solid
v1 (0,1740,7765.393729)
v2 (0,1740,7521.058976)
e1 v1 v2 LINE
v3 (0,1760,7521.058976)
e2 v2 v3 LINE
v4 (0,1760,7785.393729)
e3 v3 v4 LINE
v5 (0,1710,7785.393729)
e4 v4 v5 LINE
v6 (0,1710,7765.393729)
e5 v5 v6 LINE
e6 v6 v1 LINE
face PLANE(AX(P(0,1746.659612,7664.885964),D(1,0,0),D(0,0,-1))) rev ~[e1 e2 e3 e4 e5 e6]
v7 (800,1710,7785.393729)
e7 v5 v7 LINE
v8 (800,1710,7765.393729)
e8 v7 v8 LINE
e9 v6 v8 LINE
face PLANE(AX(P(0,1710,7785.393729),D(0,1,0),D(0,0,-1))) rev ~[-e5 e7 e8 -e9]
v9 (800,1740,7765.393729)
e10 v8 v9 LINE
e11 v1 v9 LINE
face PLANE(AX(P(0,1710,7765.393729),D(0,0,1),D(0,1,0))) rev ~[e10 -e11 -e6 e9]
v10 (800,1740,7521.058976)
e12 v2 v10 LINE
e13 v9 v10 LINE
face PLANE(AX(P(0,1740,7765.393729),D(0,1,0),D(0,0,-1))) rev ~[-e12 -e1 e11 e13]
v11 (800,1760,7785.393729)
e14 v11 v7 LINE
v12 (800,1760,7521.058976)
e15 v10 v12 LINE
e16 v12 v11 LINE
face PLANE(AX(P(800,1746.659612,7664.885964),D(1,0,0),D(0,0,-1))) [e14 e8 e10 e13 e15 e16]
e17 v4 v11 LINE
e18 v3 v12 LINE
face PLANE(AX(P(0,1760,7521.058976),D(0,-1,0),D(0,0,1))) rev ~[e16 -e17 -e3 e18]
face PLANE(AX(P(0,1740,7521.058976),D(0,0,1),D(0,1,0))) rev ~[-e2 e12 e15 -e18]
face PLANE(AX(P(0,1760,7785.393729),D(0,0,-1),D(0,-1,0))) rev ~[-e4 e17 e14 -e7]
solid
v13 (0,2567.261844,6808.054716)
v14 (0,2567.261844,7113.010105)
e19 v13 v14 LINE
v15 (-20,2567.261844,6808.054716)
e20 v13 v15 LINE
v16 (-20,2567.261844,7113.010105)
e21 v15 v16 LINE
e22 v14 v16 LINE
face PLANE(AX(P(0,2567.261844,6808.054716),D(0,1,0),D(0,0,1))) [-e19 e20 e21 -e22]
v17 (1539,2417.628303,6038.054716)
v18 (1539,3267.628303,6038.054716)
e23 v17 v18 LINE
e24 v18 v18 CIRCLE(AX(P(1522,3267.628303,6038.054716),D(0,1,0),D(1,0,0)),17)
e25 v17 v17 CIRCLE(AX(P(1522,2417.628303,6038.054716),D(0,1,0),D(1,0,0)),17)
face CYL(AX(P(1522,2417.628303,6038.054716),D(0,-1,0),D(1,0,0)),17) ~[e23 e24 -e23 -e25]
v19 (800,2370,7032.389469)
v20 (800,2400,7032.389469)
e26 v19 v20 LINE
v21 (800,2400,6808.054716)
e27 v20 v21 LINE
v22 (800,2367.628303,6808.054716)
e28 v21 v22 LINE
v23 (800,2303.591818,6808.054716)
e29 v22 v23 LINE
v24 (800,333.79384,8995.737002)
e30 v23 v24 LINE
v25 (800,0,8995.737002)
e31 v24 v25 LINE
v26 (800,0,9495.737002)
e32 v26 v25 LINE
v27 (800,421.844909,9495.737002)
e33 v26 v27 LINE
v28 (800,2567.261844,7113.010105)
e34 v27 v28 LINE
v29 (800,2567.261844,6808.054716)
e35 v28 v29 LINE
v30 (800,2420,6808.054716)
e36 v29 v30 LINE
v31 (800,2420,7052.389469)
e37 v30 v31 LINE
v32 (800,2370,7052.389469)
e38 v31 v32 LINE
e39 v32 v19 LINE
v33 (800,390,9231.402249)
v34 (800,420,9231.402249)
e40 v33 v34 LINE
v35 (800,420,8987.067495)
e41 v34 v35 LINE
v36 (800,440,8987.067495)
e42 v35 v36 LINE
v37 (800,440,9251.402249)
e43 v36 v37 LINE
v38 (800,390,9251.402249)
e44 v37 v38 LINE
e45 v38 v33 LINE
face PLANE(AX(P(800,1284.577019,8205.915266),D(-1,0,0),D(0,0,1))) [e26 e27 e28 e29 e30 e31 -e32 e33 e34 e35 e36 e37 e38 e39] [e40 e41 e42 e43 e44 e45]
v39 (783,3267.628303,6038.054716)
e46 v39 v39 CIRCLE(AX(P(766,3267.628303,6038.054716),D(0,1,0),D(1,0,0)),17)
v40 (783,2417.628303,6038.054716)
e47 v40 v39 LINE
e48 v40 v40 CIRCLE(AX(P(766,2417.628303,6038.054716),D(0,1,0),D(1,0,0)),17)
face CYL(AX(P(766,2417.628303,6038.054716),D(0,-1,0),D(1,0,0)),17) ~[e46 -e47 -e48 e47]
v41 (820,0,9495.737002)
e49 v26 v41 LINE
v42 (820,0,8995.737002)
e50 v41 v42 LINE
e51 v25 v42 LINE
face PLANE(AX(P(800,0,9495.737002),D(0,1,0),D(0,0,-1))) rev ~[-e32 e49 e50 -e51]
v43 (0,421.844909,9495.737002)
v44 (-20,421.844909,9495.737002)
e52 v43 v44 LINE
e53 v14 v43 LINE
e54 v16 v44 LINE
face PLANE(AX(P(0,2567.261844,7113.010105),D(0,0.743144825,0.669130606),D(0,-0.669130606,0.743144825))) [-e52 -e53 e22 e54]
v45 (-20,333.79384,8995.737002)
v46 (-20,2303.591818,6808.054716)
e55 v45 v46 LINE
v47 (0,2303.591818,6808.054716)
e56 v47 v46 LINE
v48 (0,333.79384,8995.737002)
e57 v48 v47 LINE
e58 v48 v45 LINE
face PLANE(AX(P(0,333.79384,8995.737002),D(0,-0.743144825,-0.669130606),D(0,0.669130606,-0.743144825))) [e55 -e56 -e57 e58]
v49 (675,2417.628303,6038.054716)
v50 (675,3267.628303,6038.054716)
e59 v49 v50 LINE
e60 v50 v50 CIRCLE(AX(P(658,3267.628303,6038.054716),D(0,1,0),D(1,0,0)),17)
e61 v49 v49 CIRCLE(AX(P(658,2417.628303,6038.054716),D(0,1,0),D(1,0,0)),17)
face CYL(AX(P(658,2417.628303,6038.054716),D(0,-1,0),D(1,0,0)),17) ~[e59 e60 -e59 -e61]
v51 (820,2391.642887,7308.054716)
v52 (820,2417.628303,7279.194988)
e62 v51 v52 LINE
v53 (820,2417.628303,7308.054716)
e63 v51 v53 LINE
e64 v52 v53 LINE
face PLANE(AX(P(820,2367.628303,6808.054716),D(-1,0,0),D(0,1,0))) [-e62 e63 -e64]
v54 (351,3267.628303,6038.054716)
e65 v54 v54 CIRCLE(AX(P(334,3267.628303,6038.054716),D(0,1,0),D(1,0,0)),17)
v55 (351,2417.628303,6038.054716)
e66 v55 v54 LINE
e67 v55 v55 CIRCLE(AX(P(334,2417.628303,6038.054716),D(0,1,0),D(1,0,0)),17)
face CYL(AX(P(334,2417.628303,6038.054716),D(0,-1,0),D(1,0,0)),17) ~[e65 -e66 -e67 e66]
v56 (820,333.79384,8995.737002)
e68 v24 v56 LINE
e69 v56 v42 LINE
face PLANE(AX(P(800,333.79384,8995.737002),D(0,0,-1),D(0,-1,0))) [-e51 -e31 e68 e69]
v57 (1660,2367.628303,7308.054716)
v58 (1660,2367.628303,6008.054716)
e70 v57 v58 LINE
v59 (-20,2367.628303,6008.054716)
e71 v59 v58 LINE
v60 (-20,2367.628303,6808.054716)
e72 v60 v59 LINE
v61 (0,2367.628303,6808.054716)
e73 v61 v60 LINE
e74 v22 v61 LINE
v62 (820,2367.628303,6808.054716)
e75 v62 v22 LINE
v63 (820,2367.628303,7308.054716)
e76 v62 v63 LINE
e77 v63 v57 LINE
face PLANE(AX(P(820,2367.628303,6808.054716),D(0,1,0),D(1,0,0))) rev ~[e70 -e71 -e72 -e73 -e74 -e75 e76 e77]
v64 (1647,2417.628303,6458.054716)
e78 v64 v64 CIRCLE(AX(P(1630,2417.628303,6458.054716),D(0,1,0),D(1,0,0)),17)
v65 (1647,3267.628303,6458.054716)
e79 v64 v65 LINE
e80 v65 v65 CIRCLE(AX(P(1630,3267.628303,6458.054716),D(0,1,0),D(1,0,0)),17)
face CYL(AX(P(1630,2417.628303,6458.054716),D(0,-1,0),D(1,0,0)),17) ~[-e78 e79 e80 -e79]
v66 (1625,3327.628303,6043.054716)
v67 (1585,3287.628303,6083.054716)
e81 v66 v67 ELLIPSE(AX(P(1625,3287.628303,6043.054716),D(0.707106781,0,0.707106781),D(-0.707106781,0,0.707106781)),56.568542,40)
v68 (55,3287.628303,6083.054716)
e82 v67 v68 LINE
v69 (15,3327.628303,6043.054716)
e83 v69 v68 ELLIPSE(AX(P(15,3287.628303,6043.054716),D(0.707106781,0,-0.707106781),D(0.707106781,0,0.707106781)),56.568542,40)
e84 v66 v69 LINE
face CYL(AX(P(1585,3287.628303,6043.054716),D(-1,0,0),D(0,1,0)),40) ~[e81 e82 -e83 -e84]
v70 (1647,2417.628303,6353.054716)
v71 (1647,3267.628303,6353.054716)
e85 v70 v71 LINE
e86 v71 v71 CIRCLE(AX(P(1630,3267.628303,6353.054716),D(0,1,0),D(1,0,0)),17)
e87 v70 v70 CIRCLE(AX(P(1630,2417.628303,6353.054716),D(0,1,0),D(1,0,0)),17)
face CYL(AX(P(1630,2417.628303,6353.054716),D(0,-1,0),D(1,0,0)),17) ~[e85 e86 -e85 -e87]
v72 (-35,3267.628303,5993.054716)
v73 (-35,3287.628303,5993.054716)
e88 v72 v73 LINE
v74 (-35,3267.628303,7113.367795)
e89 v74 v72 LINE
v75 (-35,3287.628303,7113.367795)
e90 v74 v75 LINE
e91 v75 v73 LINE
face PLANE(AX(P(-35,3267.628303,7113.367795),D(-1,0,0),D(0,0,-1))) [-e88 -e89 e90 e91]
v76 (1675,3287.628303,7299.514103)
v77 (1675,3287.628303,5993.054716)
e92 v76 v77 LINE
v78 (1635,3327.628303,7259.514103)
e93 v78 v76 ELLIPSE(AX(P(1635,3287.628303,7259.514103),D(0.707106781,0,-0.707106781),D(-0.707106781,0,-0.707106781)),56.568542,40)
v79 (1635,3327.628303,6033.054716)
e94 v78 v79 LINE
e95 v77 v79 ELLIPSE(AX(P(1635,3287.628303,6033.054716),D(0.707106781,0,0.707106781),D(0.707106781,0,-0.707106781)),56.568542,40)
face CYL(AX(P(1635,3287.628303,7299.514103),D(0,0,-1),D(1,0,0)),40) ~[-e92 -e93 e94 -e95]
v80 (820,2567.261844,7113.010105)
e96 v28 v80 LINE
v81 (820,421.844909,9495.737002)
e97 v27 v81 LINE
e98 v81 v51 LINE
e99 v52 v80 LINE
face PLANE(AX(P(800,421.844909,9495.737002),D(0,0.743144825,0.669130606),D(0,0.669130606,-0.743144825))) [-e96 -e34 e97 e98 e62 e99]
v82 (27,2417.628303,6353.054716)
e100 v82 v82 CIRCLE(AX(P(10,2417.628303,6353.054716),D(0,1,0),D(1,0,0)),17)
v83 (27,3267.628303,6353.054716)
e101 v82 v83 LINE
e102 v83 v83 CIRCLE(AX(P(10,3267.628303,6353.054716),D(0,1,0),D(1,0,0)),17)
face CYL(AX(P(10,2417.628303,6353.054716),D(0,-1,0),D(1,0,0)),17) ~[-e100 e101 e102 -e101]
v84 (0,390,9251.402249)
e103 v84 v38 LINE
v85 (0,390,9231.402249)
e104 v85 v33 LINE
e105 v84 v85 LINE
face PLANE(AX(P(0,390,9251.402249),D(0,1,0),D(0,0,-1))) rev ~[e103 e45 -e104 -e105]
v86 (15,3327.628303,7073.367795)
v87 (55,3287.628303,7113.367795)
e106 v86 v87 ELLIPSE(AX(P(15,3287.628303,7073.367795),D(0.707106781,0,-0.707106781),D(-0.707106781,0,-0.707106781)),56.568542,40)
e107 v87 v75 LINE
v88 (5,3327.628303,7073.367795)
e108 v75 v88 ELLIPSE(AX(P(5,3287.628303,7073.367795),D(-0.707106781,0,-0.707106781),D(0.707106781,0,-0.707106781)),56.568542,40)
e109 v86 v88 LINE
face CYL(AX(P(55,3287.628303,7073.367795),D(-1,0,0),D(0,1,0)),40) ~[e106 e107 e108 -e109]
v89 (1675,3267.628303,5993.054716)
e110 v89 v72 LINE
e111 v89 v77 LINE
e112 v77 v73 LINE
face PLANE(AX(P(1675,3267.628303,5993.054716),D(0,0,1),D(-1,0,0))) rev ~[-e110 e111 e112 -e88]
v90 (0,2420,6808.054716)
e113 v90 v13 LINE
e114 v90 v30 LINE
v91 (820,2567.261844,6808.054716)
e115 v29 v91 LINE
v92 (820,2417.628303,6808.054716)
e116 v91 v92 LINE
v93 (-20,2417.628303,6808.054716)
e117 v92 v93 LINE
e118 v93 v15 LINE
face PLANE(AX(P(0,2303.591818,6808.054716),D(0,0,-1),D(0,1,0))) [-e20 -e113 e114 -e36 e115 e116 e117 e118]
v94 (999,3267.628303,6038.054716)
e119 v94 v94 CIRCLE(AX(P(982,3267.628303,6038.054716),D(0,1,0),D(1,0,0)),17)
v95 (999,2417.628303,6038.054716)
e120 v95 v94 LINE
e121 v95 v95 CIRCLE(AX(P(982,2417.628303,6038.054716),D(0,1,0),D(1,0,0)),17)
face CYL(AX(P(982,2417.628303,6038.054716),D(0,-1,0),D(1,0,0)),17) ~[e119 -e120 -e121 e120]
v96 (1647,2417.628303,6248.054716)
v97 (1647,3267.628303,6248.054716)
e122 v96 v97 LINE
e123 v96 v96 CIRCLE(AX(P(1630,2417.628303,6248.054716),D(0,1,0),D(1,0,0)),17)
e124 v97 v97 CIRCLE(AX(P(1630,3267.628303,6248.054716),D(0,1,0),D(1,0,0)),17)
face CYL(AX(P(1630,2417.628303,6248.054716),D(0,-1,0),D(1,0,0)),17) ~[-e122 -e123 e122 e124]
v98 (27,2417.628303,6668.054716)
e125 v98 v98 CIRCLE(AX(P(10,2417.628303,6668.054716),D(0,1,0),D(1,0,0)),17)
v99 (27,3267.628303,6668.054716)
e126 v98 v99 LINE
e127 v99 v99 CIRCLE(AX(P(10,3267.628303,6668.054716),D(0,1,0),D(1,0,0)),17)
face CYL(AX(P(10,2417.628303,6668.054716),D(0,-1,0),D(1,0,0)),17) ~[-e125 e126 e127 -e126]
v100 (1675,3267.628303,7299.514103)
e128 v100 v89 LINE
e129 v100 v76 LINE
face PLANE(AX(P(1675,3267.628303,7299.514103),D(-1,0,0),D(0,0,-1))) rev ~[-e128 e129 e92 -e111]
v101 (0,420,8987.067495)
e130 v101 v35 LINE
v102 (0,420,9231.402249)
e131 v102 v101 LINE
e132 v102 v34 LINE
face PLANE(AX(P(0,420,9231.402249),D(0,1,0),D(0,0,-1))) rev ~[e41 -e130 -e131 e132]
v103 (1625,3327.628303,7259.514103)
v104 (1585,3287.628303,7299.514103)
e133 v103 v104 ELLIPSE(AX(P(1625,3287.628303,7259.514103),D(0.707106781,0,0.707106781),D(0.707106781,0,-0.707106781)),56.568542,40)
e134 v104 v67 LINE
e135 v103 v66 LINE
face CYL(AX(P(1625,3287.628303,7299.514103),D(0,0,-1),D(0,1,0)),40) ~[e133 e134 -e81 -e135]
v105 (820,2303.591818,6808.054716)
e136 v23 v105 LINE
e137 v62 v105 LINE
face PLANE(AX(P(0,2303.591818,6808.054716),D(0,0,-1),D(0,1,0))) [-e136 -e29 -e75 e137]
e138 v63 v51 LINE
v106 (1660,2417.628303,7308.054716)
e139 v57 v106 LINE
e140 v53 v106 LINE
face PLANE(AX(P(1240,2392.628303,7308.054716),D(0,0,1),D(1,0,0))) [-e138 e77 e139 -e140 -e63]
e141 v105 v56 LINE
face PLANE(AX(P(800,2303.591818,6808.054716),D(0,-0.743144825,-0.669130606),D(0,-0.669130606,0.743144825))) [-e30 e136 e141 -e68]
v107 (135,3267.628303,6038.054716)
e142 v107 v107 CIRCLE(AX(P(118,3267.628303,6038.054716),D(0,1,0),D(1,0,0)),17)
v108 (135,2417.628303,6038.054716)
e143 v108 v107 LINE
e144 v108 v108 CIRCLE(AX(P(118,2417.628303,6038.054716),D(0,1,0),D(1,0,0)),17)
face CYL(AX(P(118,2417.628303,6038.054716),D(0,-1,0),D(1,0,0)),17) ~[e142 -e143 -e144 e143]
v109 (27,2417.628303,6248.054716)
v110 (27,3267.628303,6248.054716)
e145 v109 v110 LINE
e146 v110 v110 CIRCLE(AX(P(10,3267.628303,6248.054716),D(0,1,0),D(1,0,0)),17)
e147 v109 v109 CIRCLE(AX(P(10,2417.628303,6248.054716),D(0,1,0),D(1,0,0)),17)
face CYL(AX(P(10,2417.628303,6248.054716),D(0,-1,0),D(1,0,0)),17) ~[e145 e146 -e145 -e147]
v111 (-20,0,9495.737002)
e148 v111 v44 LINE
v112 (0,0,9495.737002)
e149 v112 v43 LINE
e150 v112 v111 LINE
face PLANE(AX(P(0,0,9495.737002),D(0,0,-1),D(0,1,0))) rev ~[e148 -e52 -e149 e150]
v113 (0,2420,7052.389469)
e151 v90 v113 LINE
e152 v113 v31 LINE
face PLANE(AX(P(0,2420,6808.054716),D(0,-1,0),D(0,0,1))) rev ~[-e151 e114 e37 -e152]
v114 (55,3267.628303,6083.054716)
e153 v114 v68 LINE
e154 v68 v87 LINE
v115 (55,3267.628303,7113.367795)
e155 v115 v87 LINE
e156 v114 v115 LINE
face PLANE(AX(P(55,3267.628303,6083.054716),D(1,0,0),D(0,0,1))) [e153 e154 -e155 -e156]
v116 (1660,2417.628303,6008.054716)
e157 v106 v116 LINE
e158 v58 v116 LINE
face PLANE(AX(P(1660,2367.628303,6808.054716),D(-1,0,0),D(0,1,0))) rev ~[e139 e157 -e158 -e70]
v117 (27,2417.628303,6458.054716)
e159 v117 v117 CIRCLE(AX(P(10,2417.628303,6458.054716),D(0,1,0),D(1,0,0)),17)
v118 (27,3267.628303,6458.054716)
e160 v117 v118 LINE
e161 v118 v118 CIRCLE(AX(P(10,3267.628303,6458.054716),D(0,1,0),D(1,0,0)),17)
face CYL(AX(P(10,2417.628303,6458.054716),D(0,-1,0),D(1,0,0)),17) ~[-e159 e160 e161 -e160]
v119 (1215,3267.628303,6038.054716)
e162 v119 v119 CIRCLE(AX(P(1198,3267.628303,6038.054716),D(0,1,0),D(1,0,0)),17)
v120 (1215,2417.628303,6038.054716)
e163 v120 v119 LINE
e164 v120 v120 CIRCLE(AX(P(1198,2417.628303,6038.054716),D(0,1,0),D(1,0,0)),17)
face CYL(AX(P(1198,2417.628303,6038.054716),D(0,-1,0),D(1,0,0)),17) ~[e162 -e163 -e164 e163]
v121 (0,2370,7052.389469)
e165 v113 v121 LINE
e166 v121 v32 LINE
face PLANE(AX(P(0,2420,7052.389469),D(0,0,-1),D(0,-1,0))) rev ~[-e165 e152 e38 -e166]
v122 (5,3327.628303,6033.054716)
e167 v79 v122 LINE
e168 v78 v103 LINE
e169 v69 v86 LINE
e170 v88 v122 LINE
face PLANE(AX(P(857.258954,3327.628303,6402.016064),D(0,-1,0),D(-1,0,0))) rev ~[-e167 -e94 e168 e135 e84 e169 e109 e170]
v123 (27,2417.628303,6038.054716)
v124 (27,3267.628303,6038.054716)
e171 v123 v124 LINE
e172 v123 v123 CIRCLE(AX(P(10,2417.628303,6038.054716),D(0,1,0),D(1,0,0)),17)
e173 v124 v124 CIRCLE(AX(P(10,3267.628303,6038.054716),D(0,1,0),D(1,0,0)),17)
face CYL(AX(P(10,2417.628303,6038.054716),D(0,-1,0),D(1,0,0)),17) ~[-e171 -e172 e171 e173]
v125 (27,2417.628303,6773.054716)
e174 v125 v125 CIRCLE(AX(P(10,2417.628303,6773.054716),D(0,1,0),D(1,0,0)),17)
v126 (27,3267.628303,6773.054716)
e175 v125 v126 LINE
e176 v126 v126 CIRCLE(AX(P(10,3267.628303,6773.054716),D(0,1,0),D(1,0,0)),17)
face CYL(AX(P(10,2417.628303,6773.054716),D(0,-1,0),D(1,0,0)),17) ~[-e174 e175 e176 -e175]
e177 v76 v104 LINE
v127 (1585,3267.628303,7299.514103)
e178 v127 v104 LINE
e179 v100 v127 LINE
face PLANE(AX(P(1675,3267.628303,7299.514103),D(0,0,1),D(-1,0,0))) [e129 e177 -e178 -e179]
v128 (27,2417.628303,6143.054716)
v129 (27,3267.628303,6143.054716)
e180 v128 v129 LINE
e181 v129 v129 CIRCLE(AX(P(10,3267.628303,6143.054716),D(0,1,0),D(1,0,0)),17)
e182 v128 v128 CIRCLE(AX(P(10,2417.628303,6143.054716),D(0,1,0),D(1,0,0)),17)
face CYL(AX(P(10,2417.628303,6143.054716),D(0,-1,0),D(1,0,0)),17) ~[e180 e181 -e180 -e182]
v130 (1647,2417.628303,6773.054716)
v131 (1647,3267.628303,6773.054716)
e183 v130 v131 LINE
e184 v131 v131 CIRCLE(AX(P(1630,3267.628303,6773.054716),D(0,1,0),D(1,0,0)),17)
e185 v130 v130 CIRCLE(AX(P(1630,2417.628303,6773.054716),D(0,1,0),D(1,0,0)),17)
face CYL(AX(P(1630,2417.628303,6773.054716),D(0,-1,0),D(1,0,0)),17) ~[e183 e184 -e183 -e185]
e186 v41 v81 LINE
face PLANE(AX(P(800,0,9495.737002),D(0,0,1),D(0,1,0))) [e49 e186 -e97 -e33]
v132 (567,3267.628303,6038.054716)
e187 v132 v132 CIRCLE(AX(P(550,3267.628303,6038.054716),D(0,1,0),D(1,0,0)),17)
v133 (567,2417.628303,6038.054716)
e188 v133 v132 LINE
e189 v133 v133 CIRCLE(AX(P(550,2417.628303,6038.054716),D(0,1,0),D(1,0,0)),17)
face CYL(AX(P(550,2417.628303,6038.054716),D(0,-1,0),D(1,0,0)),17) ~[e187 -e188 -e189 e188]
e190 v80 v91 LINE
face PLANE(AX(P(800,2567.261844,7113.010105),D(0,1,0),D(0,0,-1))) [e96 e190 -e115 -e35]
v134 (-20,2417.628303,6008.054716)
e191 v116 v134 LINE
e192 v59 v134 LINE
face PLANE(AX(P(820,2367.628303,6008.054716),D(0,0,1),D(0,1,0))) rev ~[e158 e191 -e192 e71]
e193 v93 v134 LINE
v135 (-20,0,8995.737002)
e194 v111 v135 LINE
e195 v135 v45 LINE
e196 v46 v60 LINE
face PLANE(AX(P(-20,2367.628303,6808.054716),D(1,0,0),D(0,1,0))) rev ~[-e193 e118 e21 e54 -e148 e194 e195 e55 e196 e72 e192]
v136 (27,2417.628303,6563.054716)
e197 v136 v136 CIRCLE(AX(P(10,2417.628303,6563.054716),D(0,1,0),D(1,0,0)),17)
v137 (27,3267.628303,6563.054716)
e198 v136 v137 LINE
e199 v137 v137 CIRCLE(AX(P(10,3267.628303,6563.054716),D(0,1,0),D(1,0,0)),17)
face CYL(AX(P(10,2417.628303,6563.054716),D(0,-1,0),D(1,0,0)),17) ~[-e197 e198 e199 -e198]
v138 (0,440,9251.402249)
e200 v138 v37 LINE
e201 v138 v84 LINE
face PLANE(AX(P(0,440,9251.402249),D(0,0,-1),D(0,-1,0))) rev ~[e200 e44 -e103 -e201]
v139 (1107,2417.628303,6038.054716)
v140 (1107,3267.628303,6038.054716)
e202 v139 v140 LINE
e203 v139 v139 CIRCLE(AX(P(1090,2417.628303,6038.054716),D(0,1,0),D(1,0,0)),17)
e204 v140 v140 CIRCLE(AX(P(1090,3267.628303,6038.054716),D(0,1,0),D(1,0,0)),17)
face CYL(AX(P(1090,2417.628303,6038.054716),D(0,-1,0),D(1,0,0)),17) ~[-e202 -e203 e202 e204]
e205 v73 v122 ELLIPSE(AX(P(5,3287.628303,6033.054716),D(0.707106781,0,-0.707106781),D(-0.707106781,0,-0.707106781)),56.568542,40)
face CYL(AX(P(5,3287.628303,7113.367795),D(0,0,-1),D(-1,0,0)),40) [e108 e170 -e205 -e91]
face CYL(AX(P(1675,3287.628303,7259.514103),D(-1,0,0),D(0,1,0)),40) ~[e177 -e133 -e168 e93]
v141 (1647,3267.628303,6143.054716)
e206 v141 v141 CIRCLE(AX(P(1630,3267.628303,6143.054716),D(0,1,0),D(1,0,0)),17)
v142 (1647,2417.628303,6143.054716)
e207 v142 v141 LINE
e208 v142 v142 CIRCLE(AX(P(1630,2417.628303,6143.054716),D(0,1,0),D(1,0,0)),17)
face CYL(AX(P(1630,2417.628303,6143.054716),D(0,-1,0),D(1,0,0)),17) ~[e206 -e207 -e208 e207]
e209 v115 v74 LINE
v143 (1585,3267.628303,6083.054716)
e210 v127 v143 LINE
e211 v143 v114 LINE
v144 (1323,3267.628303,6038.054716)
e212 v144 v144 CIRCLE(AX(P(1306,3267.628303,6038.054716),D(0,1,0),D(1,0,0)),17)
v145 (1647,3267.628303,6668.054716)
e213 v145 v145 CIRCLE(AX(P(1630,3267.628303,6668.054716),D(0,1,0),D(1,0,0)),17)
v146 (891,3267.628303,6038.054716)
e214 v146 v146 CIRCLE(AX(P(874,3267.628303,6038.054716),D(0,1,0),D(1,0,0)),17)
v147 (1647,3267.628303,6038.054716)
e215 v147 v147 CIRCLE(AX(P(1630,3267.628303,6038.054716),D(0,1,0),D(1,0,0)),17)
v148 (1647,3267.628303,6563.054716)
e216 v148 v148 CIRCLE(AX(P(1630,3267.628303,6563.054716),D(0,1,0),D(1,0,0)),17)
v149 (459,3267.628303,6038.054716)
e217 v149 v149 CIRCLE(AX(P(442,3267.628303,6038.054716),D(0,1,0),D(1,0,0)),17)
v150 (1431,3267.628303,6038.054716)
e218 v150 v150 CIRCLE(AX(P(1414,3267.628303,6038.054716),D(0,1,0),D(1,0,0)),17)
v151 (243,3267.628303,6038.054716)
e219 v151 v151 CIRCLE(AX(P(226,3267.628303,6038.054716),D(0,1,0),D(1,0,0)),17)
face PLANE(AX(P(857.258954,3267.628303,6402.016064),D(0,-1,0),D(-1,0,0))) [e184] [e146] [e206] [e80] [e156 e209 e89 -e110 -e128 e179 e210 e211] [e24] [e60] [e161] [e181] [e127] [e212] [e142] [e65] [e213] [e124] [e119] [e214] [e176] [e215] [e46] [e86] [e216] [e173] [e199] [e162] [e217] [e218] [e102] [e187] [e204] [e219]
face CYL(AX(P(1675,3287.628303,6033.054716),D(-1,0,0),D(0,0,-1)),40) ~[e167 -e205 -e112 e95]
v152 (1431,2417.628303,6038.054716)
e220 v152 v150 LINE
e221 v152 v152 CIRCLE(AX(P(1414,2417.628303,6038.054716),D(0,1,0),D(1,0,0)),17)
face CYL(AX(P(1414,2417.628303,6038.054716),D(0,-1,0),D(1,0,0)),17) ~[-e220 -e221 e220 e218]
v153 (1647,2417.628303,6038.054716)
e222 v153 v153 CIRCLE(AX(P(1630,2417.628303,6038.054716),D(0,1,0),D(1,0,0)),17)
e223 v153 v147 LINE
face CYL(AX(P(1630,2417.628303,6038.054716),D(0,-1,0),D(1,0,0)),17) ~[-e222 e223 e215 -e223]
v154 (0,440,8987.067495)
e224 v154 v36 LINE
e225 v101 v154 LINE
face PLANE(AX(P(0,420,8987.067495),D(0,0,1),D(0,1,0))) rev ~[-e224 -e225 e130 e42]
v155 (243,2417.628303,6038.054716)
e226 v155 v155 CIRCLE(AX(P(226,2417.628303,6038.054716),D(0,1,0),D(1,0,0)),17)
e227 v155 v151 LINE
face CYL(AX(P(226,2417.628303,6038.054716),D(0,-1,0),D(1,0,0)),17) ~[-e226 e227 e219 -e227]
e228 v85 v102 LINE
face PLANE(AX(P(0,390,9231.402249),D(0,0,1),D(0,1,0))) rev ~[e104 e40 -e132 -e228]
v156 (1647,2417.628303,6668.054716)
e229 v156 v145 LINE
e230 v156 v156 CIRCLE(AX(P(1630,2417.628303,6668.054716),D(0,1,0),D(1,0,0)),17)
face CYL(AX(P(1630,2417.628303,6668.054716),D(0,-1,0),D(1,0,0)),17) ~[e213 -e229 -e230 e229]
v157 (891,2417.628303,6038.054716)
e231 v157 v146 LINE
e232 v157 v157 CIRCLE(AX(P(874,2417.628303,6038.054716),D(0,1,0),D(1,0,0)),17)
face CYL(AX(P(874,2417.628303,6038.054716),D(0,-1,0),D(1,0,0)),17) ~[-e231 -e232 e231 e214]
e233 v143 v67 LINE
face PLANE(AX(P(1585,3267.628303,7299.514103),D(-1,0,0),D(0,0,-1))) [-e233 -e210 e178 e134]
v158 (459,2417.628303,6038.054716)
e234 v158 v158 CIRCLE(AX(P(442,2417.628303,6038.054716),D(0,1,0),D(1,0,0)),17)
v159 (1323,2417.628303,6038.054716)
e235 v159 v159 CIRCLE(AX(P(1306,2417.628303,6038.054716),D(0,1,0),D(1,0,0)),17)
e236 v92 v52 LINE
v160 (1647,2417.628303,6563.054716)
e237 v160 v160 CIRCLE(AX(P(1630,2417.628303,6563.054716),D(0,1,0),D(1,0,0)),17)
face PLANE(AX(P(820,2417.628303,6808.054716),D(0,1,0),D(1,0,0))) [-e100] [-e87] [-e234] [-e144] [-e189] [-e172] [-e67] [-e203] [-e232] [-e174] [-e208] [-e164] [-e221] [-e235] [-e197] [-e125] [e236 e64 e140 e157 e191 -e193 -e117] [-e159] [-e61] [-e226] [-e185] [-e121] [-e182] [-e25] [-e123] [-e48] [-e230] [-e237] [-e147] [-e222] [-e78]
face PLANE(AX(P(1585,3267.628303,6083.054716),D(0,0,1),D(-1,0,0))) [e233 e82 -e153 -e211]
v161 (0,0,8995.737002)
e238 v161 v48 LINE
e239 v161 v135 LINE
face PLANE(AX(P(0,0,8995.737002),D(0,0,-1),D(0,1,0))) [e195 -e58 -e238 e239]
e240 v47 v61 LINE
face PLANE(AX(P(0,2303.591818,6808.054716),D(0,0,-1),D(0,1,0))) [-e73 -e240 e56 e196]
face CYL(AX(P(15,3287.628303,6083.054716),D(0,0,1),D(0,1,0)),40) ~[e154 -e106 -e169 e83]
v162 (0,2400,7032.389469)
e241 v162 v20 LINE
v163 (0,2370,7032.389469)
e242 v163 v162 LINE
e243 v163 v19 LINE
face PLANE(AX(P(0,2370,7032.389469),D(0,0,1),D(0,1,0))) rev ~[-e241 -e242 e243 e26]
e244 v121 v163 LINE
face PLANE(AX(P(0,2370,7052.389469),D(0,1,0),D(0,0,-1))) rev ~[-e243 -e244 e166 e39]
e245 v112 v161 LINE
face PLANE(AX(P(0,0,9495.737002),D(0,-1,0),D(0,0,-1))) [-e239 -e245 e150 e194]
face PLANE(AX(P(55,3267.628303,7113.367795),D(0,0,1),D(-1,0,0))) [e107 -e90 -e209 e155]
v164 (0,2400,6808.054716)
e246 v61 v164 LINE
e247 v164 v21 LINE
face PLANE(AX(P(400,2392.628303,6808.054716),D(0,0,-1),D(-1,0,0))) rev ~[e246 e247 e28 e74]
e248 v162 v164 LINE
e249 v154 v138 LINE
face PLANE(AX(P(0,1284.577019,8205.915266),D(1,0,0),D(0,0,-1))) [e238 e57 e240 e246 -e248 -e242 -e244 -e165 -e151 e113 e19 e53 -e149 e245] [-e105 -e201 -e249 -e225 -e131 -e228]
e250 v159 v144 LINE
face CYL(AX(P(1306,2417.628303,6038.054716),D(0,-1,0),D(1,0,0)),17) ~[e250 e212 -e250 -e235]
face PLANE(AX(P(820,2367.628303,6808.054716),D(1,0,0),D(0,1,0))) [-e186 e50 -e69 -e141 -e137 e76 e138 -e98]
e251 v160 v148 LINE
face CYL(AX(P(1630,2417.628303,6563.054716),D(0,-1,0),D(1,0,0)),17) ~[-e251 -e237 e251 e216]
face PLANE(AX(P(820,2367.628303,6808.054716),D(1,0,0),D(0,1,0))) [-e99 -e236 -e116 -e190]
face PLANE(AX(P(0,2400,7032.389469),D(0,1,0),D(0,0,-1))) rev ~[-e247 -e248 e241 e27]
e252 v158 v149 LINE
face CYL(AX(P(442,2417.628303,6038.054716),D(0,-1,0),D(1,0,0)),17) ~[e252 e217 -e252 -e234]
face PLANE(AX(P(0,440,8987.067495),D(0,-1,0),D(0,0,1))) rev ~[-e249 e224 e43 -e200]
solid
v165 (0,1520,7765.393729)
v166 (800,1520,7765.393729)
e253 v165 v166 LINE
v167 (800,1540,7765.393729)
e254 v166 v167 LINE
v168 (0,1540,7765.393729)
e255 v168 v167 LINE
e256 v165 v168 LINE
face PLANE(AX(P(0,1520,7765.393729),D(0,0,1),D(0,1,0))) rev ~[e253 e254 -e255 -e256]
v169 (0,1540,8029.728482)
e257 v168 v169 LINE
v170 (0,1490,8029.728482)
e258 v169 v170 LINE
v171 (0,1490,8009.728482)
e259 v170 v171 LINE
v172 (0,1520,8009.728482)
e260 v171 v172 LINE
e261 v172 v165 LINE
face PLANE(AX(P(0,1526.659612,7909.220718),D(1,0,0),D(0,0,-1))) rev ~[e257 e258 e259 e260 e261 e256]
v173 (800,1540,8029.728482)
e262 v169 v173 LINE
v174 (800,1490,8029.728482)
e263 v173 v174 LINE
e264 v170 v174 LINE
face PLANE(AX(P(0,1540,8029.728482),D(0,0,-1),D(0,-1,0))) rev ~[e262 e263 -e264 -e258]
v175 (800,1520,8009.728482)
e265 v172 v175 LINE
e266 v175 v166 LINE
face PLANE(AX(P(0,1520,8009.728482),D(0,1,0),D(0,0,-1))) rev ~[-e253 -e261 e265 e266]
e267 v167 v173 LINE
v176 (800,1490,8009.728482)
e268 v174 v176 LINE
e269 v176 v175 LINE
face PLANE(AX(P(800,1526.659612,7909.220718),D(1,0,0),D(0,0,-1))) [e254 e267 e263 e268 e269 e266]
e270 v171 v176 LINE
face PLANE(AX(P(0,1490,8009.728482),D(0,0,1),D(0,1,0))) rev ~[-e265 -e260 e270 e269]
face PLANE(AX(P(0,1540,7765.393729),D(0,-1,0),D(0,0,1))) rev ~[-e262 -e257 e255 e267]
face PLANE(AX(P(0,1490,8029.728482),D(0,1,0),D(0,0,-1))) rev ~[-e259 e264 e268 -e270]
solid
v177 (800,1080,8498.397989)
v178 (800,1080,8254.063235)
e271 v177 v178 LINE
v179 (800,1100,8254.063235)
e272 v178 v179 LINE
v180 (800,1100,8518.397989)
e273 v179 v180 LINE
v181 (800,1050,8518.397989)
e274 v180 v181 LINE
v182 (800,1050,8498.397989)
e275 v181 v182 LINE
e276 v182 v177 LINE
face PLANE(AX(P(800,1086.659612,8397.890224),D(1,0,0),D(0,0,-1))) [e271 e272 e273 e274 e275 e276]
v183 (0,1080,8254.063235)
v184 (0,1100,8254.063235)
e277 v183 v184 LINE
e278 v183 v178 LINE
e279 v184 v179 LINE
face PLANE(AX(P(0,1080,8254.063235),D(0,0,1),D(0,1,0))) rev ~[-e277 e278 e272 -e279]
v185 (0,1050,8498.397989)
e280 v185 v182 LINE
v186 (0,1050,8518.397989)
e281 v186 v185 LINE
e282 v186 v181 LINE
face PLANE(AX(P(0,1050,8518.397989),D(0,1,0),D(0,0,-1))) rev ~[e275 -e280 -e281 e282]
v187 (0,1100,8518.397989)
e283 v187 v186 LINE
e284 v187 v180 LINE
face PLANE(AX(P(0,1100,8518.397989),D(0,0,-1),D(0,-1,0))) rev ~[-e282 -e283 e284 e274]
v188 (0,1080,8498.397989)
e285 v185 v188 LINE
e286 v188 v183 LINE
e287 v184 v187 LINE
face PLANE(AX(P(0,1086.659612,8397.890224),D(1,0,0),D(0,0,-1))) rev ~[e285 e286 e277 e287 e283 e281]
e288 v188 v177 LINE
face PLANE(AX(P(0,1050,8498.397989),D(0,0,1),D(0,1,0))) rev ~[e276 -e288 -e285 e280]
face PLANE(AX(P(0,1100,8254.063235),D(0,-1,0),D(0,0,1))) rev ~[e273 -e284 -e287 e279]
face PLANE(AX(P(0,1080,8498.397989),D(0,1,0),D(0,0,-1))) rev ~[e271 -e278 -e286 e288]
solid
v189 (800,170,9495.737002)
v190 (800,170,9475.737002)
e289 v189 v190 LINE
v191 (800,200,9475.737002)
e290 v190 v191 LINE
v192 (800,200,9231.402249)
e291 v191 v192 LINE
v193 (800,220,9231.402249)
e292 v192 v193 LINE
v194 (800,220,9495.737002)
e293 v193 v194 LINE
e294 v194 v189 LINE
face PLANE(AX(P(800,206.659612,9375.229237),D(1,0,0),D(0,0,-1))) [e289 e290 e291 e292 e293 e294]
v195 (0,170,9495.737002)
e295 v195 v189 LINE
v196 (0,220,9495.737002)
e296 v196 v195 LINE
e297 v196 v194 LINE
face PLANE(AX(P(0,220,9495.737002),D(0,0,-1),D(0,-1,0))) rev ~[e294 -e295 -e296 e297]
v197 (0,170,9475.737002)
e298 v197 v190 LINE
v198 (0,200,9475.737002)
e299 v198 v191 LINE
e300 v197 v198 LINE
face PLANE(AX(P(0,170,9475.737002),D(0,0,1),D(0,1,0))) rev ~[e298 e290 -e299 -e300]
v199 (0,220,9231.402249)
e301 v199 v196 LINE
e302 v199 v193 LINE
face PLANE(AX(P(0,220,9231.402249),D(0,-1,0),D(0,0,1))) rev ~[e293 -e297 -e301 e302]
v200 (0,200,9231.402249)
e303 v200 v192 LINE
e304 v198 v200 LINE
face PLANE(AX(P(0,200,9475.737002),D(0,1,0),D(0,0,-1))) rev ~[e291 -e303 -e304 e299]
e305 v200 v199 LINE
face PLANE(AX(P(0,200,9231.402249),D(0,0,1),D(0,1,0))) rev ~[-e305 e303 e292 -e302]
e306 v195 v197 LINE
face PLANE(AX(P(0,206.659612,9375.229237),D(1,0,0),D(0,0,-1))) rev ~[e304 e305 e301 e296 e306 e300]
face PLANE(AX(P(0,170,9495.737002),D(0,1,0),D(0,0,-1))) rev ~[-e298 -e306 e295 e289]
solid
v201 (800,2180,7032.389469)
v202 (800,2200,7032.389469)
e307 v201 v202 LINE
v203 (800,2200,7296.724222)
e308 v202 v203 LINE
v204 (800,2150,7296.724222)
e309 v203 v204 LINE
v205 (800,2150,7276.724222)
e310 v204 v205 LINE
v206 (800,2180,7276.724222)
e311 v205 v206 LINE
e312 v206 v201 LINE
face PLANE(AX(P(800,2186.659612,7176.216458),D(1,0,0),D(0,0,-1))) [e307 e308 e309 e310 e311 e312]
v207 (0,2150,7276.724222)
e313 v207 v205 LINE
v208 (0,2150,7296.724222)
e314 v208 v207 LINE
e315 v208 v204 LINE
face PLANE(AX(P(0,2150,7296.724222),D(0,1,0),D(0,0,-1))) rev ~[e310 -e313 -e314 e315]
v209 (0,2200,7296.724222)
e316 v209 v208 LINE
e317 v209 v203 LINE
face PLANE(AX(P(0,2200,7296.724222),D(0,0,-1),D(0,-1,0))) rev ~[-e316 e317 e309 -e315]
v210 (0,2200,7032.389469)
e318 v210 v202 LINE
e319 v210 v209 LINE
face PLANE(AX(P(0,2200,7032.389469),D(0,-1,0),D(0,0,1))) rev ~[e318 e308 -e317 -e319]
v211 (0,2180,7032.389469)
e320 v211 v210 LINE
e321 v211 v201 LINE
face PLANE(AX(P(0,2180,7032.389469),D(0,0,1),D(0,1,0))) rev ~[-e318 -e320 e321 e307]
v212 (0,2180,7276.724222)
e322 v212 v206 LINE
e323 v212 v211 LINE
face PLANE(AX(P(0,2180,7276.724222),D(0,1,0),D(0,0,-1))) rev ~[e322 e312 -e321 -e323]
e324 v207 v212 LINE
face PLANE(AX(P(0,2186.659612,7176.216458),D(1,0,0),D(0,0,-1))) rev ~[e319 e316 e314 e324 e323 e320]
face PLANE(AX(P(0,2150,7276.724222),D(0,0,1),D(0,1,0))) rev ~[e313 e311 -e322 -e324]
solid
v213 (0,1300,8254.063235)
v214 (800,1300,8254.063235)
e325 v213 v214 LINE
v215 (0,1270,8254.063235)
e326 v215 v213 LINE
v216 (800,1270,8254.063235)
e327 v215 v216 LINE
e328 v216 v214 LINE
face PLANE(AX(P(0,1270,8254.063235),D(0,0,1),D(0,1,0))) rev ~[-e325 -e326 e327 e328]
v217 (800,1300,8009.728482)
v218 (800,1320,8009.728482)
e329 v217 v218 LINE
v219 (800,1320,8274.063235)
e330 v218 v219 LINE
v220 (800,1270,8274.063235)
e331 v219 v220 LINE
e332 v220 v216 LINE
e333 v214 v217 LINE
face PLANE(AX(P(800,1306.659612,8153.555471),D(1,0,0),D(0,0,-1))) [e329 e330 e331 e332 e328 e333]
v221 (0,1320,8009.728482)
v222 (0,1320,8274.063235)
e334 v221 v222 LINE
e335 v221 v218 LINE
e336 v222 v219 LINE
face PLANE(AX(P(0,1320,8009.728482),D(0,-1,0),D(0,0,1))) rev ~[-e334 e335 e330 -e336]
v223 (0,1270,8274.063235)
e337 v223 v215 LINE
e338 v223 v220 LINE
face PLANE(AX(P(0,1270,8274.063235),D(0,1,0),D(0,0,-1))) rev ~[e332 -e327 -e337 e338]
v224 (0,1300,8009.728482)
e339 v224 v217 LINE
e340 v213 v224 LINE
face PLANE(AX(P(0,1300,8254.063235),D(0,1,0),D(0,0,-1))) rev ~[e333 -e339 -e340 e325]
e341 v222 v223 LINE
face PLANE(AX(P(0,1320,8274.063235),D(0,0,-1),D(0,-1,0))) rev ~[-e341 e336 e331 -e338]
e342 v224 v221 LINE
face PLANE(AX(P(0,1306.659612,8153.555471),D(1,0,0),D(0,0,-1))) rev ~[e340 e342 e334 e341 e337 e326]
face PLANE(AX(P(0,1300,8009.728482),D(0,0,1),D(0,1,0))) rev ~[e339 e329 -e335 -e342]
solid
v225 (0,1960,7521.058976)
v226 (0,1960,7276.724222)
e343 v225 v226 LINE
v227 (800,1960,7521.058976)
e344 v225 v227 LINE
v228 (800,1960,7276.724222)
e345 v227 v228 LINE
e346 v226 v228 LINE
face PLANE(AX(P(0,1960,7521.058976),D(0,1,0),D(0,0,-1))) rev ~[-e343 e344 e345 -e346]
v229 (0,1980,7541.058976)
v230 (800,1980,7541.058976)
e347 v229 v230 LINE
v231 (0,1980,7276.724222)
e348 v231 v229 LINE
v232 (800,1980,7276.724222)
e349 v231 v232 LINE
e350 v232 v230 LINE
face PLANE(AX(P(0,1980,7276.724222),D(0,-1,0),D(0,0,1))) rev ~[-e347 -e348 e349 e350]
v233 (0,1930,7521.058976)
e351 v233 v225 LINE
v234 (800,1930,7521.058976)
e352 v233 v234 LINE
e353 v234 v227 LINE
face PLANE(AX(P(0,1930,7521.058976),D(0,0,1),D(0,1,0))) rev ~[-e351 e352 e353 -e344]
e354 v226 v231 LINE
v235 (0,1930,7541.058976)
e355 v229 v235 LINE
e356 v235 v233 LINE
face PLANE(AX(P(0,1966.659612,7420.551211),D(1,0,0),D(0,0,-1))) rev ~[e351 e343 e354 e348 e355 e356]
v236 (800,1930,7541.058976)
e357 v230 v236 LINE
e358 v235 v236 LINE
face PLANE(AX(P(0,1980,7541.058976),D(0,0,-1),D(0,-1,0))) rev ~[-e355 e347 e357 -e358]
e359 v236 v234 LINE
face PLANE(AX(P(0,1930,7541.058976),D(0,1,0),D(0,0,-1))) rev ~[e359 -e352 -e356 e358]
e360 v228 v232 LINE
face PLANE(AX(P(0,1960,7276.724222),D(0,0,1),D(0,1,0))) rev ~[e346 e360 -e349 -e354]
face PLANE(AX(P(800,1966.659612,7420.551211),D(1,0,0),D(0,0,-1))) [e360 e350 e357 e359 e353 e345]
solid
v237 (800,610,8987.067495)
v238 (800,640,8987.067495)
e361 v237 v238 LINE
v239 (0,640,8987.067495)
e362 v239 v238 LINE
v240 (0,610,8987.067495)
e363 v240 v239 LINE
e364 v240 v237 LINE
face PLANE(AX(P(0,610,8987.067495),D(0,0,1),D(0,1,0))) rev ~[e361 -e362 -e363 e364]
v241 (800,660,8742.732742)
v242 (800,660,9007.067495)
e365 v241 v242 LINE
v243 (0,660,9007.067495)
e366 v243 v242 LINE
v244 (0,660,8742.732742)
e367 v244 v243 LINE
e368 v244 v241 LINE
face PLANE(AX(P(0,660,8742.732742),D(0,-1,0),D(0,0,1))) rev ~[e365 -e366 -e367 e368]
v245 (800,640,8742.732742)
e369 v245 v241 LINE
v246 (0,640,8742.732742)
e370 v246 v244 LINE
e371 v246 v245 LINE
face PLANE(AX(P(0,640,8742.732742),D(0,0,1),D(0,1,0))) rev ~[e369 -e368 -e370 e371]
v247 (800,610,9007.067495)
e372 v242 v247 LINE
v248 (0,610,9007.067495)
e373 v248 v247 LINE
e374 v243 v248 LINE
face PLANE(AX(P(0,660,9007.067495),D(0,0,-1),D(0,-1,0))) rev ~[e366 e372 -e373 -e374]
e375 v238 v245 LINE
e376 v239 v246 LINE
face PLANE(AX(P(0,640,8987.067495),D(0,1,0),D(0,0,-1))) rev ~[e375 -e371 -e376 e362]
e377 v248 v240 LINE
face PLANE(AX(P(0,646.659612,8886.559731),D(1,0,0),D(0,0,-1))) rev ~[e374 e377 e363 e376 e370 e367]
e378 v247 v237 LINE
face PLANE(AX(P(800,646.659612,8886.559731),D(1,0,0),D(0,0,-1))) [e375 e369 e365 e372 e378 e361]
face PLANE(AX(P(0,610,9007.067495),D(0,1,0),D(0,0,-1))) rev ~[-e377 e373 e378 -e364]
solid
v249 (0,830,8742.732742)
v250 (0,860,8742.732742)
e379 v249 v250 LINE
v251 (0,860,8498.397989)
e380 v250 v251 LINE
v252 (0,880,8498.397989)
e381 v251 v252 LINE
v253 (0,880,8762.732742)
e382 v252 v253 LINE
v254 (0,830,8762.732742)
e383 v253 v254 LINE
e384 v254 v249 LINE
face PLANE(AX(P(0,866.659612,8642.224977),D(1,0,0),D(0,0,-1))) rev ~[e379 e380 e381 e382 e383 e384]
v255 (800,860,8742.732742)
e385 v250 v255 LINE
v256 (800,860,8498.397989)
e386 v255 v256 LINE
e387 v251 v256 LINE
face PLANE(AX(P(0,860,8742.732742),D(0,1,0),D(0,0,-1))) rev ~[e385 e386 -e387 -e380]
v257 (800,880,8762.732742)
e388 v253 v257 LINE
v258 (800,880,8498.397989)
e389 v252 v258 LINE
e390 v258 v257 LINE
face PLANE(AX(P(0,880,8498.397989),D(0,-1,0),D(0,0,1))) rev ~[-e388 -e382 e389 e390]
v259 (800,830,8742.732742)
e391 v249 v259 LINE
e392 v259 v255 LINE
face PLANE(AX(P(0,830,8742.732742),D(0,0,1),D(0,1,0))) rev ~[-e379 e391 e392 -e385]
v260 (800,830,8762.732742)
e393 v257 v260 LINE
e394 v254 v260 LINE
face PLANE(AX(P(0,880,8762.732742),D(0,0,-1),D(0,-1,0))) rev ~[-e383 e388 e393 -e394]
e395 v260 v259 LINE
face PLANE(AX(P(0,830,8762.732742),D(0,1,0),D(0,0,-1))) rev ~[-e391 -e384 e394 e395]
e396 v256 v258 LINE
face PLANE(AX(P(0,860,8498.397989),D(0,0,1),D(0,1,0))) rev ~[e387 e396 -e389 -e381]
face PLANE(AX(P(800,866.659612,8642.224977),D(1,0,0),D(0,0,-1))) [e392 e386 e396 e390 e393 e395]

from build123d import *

# Parameters (mm, degrees)
STAIRS_DEPTH         = 800
STAIRS_2_DEPTH       = 800
STAIRS_3_DEPTH       = 800
STAIRS_4_DEPTH       = 800
STAIRS_5_DEPTH       = 800
STAIRS_6_DEPTH       = 800
STAIRS_7_DEPTH       = 800
STAIRS_8_DEPTH       = 800
STAIRS_9_DEPTH       = 800
STAIRS_10_DEPTH      = 800
STAIRS_11_DEPTH      = 800
RIGHT_STRINGER_DEPTH = 20
LEFT_STRINGER_DEPTH  = 20
SKETCH5_W            = 840
SKETCH5_H            = 50
BOSS_EXTRUDE6_DEPTH  = 800
SKETCH6_W            = 800
SKETCH6_H            = 50
BOSS_EXTRUDE7_DEPTH  = 840
SKETCH7_W            = 840
SKETCH7_H            = 50
BOSS_EXTRUDE8_DEPTH  = 500
SKETCH8_R            = 17
BOSS_EXTRUDE9_DEPTH  = 850
BOSS_EXTRUDE11_DEPTH = 60
FILLET1_R            = 40


with BuildPart() as part:
    # Sketch2 → Stairs (new body)
    with BuildSketch(Plane(origin=(0, 0, 0), x_dir=(0, 0, -1), z_dir=(1, 0, 0))):
        Polygon((-9495.73700179, 220), (-9495.73700179, 170), (-9475.73700179, 170), (-9475.73700179, 200), (-9231.402248527, 200), (-9231.402248527, 220), align=None)
    extrude(amount=STAIRS_DEPTH)


with BuildPart() as body_2:
    # Sketch2 → Stairs 2 (new body)
    with BuildSketch(Plane(origin=(0, 0, 0), x_dir=(0, 0, -1), z_dir=(1, 0, 0))):
        Polygon((-9251.402248527, 440), (-9251.402248527, 390), (-9231.402248527, 390), (-9231.402248527, 420), (-8987.067495265, 420), (-8987.067495265, 440), align=None)
    extrude(amount=STAIRS_2_DEPTH)

    # Sketch3 → Right Stringer (add)
    with BuildSketch(Plane(origin=(800, 0, 0), x_dir=(0, 0, -1), z_dir=(1, 0, 0))):
        Polygon((-9495.73700179, 421.844909441), (-7113.01010528, 2567.261843515), (-6808.054715903, 2567.261843515), (-6808.054715903, 2303.591817598), (-8995.73700179, 333.793839747), (-8995.73700179, 0), (-9366.452617586, 0), (-9495.73700179, 0), align=None)
    extrude(amount=RIGHT_STRINGER_DEPTH)

    # Sketch4 → Left Stringer (add)
    with BuildSketch(Plane.ZY):
        Polygon((8995.73700179, 333.793839747), (6808.054715903, 2303.591817598), (6808.054715903, 2567.261843515), (7113.01010528, 2567.261843515), (9495.73700179, 421.844909441), (9495.73700179, 333.793839747), (9495.73700179, 0), (8995.73700179, 0), align=None)
    extrude(amount=LEFT_STRINGER_DEPTH)



with BuildPart() as body_3:
    # Sketch2 → Stairs 3 (new body)
    with BuildSketch(Plane(origin=(0, 0, 0), x_dir=(0, 0, -1), z_dir=(1, 0, 0))):
        Polygon((-9007.067495265, 660), (-9007.067495265, 610), (-8987.067495265, 610), (-8987.067495265, 640), (-8742.732742002, 640), (-8742.732742002, 660), align=None)
    extrude(amount=STAIRS_3_DEPTH)


with BuildPart() as body_4:
    # Sketch2 → Stairs 4 (new body)
    with BuildSketch(Plane(origin=(0, 0, 0), x_dir=(0, 0, -1), z_dir=(1, 0, 0))):
        Polygon((-8762.732742002, 880), (-8762.732742002, 830), (-8742.732742002, 830), (-8742.732742002, 860), (-8498.39798874, 860), (-8498.39798874, 880), align=None)
    extrude(amount=STAIRS_4_DEPTH)


with BuildPart() as body_5:
    # Sketch2 → Stairs 5 (new body)
    with BuildSketch(Plane(origin=(0, 0, 0), x_dir=(0, 0, -1), z_dir=(1, 0, 0))):
        Polygon((-8518.39798874, 1100), (-8518.39798874, 1050), (-8498.39798874, 1050), (-8498.39798874, 1080), (-8254.063235477, 1080), (-8254.063235477, 1100), align=None)
    extrude(amount=STAIRS_5_DEPTH)


with BuildPart() as body_6:
    # Sketch2 → Stairs 6 (new body)
    with BuildSketch(Plane(origin=(0, 0, 0), x_dir=(0, 0, -1), z_dir=(1, 0, 0))):
        Polygon((-8274.063235477, 1320), (-8274.063235477, 1270), (-8254.063235477, 1270), (-8254.063235477, 1300), (-8009.728482215, 1300), (-8009.728482215, 1320), align=None)
    extrude(amount=STAIRS_6_DEPTH)


with BuildPart() as body_7:
    # Sketch2 → Stairs 7 (new body)
    with BuildSketch(Plane(origin=(0, 0, 0), x_dir=(0, 0, -1), z_dir=(1, 0, 0))):
        Polygon((-8029.728482215, 1540), (-8029.728482215, 1490), (-8009.728482215, 1490), (-8009.728482215, 1520), (-7765.393728953, 1520), (-7765.393728953, 1540), align=None)
    extrude(amount=STAIRS_7_DEPTH)


with BuildPart() as body_8:
    # Sketch2 → Stairs 8 (new body)
    with BuildSketch(Plane(origin=(0, 0, 0), x_dir=(0, 0, -1), z_dir=(1, 0, 0))):
        Polygon((-7785.393728953, 1760), (-7785.393728953, 1710), (-7765.393728953, 1710), (-7765.393728953, 1740), (-7521.05897569, 1740), (-7521.05897569, 1760), align=None)
    extrude(amount=STAIRS_8_DEPTH)


with BuildPart() as body_9:
    # Sketch2 → Stairs 9 (new body)
    with BuildSketch(Plane(origin=(0, 0, 0), x_dir=(0, 0, -1), z_dir=(1, 0, 0))):
        Polygon((-7541.05897569, 1980), (-7541.05897569, 1930), (-7521.05897569, 1930), (-7521.05897569, 1960), (-7276.724222428, 1960), (-7276.724222428, 1980), align=None)
    extrude(amount=STAIRS_9_DEPTH)


with BuildPart() as body_10:
    # Sketch2 → Stairs 10 (new body)
    with BuildSketch(Plane(origin=(0, 0, 0), x_dir=(0, 0, -1), z_dir=(1, 0, 0))):
        Polygon((-7296.724222428, 2200), (-7296.724222428, 2150), (-7276.724222428, 2150), (-7276.724222428, 2180), (-7032.389469165, 2180), (-7032.389469165, 2200), align=None)
    extrude(amount=STAIRS_10_DEPTH)


with BuildPart() as body_11:
    # Sketch2 → Stairs 11 (new body)
    with BuildSketch(Plane(origin=(0, 0, 0), x_dir=(0, 0, -1), z_dir=(1, 0, 0))):
        Polygon((-7052.389469165, 2420), (-7052.389469165, 2370), (-7032.389469165, 2370), (-7032.389469165, 2400), (-6808.054715903, 2400), (-6808.054715903, 2420), align=None)
    extrude(amount=STAIRS_11_DEPTH)


with BuildPart() as body_2_1:
    add(body_2.part)

    add(body_11.part)  # Boss-Extrude6 merges body 11
    # Sketch5 → Boss-Extrude6 (add)
    with BuildSketch(Plane(origin=(0, 0, 6808.054715903), x_dir=(-1, 0, 0), z_dir=(0, 0, -1))):
        with Locations((-400, 2392.628302845)):
            Rectangle(SKETCH5_W, SKETCH5_H)
    extrude(amount=BOSS_EXTRUDE6_DEPTH)

    # Sketch6 → Boss-Extrude7 (add)
    with BuildSketch(Plane(origin=(820, 0, 0), x_dir=(0, 0, -1), z_dir=(1, 0, 0))):
        with Locations((-6408.054715903, 2392.628302845)):
            Rectangle(SKETCH6_W, SKETCH6_H)
    extrude(amount=BOSS_EXTRUDE7_DEPTH)

    # Sketch7 → Boss-Extrude8 (add)
    with BuildSketch(Plane.XY.offset(6808.054715903)):
        with Locations((1240, 2392.628302845)):
            Rectangle(SKETCH7_W, SKETCH7_H)
    extrude(amount=BOSS_EXTRUDE8_DEPTH)

    # Sketch8 → Boss-Extrude9 (add)
    with BuildSketch(Plane(origin=(0, 2417.628302845, 0), x_dir=(1, 0, 0), z_dir=(0, 1, 0))):
        with Locations((10, -6038.054715903)):
            Circle(SKETCH8_R)
        with Locations((118, -6038.054715903)):
            Circle(SKETCH8_R)
        with Locations((226, -6038.054715903)):
            Circle(SKETCH8_R)
        with Locations((334, -6038.054715903)):
            Circle(SKETCH8_R)
        with Locations((442, -6038.054715903)):
            Circle(SKETCH8_R)
        with Locations((550, -6038.054715903)):
            Circle(SKETCH8_R)
        with Locations((658, -6038.054715903)):
            Circle(SKETCH8_R)
        with Locations((766, -6038.054715903)):
            Circle(SKETCH8_R)
        with Locations((874, -6038.054715903)):
            Circle(SKETCH8_R)
        with Locations((982, -6038.054715903)):
            Circle(SKETCH8_R)
        with Locations((1090, -6038.054715903)):
            Circle(SKETCH8_R)
        with Locations((1198, -6038.054715903)):
            Circle(SKETCH8_R)
        with Locations((1306, -6038.054715903)):
            Circle(SKETCH8_R)
        with Locations((1414, -6038.054715903)):
            Circle(SKETCH8_R)
        with Locations((1522, -6038.054715903)):
            Circle(SKETCH8_R)
        with Locations((1630, -6038.054715903)):
            Circle(SKETCH8_R)
        with Locations((10, -6143.054715903)):
            Circle(SKETCH8_R)
        with Locations((1630, -6143.054715903)):
            Circle(SKETCH8_R)
        with Locations((10, -6248.054715903)):
            Circle(SKETCH8_R)
        with Locations((1630, -6248.054715903)):
            Circle(SKETCH8_R)
        with Locations((10, -6353.054715903)):
            Circle(SKETCH8_R)
        with Locations((1630, -6353.054715903)):
            Circle(SKETCH8_R)
        with Locations((10, -6458.054715903)):
            Circle(SKETCH8_R)
        with Locations((1630, -6458.054715903)):
            Circle(SKETCH8_R)
        with Locations((10, -6563.054715903)):
            Circle(SKETCH8_R)
        with Locations((1630, -6563.054715903)):
            Circle(SKETCH8_R)
        with Locations((10, -6668.054715903)):
            Circle(SKETCH8_R)
        with Locations((1630, -6668.054715903)):
            Circle(SKETCH8_R)
        with Locations((10, -6773.054715903)):
            Circle(SKETCH8_R)
        with Locations((1630, -6773.054715903)):
            Circle(SKETCH8_R)
    extrude(amount=BOSS_EXTRUDE9_DEPTH)

    # Sketch9 → Boss-Extrude11 (add)
    with BuildSketch(Plane(origin=(0, 3267.628302845, 0), x_dir=(1, 0, 0), z_dir=(0, 1, 0))):
        Polygon((-35, -5993.054715903), (55, -5993.054715903), (1675, -5993.054715903), (1675, -6083.054715903), (1675, -7299.514103461), (1585, -7299.514103461), (1585, -6083.054715903), (55, -6083.054715903), (55, -7113.36779525), (-35, -7113.36779525), align=None)
    extrude(amount=BOSS_EXTRUDE11_DEPTH)

    # Fillet1
    fillet1_edges = [body_2_1.edges().sort_by_distance(p)[0] for p in [
        (-35, 3327.628302845, 6553.211255576),
        (10, 3327.628302845, 7113.36779525),
        (55, 3327.628302845, 6598.211255576),
        (820, 3327.628302845, 6083.054715903),
        (1585, 3327.628302845, 6691.284409682),
        (1630, 3327.628302845, 7299.514103461),
        (1675, 3327.628302845, 6646.284409682),
        (820, 3327.628302845, 5993.054715903),
    ]]
    fillet(fillet1_edges, radius=FILLET1_R)


solid = Compound([part.part, body_3.part, body_4.part, body_5.part, body_6.part, body_7.part, body_8.part, body_9.part, body_10.part, body_2_1.part])
